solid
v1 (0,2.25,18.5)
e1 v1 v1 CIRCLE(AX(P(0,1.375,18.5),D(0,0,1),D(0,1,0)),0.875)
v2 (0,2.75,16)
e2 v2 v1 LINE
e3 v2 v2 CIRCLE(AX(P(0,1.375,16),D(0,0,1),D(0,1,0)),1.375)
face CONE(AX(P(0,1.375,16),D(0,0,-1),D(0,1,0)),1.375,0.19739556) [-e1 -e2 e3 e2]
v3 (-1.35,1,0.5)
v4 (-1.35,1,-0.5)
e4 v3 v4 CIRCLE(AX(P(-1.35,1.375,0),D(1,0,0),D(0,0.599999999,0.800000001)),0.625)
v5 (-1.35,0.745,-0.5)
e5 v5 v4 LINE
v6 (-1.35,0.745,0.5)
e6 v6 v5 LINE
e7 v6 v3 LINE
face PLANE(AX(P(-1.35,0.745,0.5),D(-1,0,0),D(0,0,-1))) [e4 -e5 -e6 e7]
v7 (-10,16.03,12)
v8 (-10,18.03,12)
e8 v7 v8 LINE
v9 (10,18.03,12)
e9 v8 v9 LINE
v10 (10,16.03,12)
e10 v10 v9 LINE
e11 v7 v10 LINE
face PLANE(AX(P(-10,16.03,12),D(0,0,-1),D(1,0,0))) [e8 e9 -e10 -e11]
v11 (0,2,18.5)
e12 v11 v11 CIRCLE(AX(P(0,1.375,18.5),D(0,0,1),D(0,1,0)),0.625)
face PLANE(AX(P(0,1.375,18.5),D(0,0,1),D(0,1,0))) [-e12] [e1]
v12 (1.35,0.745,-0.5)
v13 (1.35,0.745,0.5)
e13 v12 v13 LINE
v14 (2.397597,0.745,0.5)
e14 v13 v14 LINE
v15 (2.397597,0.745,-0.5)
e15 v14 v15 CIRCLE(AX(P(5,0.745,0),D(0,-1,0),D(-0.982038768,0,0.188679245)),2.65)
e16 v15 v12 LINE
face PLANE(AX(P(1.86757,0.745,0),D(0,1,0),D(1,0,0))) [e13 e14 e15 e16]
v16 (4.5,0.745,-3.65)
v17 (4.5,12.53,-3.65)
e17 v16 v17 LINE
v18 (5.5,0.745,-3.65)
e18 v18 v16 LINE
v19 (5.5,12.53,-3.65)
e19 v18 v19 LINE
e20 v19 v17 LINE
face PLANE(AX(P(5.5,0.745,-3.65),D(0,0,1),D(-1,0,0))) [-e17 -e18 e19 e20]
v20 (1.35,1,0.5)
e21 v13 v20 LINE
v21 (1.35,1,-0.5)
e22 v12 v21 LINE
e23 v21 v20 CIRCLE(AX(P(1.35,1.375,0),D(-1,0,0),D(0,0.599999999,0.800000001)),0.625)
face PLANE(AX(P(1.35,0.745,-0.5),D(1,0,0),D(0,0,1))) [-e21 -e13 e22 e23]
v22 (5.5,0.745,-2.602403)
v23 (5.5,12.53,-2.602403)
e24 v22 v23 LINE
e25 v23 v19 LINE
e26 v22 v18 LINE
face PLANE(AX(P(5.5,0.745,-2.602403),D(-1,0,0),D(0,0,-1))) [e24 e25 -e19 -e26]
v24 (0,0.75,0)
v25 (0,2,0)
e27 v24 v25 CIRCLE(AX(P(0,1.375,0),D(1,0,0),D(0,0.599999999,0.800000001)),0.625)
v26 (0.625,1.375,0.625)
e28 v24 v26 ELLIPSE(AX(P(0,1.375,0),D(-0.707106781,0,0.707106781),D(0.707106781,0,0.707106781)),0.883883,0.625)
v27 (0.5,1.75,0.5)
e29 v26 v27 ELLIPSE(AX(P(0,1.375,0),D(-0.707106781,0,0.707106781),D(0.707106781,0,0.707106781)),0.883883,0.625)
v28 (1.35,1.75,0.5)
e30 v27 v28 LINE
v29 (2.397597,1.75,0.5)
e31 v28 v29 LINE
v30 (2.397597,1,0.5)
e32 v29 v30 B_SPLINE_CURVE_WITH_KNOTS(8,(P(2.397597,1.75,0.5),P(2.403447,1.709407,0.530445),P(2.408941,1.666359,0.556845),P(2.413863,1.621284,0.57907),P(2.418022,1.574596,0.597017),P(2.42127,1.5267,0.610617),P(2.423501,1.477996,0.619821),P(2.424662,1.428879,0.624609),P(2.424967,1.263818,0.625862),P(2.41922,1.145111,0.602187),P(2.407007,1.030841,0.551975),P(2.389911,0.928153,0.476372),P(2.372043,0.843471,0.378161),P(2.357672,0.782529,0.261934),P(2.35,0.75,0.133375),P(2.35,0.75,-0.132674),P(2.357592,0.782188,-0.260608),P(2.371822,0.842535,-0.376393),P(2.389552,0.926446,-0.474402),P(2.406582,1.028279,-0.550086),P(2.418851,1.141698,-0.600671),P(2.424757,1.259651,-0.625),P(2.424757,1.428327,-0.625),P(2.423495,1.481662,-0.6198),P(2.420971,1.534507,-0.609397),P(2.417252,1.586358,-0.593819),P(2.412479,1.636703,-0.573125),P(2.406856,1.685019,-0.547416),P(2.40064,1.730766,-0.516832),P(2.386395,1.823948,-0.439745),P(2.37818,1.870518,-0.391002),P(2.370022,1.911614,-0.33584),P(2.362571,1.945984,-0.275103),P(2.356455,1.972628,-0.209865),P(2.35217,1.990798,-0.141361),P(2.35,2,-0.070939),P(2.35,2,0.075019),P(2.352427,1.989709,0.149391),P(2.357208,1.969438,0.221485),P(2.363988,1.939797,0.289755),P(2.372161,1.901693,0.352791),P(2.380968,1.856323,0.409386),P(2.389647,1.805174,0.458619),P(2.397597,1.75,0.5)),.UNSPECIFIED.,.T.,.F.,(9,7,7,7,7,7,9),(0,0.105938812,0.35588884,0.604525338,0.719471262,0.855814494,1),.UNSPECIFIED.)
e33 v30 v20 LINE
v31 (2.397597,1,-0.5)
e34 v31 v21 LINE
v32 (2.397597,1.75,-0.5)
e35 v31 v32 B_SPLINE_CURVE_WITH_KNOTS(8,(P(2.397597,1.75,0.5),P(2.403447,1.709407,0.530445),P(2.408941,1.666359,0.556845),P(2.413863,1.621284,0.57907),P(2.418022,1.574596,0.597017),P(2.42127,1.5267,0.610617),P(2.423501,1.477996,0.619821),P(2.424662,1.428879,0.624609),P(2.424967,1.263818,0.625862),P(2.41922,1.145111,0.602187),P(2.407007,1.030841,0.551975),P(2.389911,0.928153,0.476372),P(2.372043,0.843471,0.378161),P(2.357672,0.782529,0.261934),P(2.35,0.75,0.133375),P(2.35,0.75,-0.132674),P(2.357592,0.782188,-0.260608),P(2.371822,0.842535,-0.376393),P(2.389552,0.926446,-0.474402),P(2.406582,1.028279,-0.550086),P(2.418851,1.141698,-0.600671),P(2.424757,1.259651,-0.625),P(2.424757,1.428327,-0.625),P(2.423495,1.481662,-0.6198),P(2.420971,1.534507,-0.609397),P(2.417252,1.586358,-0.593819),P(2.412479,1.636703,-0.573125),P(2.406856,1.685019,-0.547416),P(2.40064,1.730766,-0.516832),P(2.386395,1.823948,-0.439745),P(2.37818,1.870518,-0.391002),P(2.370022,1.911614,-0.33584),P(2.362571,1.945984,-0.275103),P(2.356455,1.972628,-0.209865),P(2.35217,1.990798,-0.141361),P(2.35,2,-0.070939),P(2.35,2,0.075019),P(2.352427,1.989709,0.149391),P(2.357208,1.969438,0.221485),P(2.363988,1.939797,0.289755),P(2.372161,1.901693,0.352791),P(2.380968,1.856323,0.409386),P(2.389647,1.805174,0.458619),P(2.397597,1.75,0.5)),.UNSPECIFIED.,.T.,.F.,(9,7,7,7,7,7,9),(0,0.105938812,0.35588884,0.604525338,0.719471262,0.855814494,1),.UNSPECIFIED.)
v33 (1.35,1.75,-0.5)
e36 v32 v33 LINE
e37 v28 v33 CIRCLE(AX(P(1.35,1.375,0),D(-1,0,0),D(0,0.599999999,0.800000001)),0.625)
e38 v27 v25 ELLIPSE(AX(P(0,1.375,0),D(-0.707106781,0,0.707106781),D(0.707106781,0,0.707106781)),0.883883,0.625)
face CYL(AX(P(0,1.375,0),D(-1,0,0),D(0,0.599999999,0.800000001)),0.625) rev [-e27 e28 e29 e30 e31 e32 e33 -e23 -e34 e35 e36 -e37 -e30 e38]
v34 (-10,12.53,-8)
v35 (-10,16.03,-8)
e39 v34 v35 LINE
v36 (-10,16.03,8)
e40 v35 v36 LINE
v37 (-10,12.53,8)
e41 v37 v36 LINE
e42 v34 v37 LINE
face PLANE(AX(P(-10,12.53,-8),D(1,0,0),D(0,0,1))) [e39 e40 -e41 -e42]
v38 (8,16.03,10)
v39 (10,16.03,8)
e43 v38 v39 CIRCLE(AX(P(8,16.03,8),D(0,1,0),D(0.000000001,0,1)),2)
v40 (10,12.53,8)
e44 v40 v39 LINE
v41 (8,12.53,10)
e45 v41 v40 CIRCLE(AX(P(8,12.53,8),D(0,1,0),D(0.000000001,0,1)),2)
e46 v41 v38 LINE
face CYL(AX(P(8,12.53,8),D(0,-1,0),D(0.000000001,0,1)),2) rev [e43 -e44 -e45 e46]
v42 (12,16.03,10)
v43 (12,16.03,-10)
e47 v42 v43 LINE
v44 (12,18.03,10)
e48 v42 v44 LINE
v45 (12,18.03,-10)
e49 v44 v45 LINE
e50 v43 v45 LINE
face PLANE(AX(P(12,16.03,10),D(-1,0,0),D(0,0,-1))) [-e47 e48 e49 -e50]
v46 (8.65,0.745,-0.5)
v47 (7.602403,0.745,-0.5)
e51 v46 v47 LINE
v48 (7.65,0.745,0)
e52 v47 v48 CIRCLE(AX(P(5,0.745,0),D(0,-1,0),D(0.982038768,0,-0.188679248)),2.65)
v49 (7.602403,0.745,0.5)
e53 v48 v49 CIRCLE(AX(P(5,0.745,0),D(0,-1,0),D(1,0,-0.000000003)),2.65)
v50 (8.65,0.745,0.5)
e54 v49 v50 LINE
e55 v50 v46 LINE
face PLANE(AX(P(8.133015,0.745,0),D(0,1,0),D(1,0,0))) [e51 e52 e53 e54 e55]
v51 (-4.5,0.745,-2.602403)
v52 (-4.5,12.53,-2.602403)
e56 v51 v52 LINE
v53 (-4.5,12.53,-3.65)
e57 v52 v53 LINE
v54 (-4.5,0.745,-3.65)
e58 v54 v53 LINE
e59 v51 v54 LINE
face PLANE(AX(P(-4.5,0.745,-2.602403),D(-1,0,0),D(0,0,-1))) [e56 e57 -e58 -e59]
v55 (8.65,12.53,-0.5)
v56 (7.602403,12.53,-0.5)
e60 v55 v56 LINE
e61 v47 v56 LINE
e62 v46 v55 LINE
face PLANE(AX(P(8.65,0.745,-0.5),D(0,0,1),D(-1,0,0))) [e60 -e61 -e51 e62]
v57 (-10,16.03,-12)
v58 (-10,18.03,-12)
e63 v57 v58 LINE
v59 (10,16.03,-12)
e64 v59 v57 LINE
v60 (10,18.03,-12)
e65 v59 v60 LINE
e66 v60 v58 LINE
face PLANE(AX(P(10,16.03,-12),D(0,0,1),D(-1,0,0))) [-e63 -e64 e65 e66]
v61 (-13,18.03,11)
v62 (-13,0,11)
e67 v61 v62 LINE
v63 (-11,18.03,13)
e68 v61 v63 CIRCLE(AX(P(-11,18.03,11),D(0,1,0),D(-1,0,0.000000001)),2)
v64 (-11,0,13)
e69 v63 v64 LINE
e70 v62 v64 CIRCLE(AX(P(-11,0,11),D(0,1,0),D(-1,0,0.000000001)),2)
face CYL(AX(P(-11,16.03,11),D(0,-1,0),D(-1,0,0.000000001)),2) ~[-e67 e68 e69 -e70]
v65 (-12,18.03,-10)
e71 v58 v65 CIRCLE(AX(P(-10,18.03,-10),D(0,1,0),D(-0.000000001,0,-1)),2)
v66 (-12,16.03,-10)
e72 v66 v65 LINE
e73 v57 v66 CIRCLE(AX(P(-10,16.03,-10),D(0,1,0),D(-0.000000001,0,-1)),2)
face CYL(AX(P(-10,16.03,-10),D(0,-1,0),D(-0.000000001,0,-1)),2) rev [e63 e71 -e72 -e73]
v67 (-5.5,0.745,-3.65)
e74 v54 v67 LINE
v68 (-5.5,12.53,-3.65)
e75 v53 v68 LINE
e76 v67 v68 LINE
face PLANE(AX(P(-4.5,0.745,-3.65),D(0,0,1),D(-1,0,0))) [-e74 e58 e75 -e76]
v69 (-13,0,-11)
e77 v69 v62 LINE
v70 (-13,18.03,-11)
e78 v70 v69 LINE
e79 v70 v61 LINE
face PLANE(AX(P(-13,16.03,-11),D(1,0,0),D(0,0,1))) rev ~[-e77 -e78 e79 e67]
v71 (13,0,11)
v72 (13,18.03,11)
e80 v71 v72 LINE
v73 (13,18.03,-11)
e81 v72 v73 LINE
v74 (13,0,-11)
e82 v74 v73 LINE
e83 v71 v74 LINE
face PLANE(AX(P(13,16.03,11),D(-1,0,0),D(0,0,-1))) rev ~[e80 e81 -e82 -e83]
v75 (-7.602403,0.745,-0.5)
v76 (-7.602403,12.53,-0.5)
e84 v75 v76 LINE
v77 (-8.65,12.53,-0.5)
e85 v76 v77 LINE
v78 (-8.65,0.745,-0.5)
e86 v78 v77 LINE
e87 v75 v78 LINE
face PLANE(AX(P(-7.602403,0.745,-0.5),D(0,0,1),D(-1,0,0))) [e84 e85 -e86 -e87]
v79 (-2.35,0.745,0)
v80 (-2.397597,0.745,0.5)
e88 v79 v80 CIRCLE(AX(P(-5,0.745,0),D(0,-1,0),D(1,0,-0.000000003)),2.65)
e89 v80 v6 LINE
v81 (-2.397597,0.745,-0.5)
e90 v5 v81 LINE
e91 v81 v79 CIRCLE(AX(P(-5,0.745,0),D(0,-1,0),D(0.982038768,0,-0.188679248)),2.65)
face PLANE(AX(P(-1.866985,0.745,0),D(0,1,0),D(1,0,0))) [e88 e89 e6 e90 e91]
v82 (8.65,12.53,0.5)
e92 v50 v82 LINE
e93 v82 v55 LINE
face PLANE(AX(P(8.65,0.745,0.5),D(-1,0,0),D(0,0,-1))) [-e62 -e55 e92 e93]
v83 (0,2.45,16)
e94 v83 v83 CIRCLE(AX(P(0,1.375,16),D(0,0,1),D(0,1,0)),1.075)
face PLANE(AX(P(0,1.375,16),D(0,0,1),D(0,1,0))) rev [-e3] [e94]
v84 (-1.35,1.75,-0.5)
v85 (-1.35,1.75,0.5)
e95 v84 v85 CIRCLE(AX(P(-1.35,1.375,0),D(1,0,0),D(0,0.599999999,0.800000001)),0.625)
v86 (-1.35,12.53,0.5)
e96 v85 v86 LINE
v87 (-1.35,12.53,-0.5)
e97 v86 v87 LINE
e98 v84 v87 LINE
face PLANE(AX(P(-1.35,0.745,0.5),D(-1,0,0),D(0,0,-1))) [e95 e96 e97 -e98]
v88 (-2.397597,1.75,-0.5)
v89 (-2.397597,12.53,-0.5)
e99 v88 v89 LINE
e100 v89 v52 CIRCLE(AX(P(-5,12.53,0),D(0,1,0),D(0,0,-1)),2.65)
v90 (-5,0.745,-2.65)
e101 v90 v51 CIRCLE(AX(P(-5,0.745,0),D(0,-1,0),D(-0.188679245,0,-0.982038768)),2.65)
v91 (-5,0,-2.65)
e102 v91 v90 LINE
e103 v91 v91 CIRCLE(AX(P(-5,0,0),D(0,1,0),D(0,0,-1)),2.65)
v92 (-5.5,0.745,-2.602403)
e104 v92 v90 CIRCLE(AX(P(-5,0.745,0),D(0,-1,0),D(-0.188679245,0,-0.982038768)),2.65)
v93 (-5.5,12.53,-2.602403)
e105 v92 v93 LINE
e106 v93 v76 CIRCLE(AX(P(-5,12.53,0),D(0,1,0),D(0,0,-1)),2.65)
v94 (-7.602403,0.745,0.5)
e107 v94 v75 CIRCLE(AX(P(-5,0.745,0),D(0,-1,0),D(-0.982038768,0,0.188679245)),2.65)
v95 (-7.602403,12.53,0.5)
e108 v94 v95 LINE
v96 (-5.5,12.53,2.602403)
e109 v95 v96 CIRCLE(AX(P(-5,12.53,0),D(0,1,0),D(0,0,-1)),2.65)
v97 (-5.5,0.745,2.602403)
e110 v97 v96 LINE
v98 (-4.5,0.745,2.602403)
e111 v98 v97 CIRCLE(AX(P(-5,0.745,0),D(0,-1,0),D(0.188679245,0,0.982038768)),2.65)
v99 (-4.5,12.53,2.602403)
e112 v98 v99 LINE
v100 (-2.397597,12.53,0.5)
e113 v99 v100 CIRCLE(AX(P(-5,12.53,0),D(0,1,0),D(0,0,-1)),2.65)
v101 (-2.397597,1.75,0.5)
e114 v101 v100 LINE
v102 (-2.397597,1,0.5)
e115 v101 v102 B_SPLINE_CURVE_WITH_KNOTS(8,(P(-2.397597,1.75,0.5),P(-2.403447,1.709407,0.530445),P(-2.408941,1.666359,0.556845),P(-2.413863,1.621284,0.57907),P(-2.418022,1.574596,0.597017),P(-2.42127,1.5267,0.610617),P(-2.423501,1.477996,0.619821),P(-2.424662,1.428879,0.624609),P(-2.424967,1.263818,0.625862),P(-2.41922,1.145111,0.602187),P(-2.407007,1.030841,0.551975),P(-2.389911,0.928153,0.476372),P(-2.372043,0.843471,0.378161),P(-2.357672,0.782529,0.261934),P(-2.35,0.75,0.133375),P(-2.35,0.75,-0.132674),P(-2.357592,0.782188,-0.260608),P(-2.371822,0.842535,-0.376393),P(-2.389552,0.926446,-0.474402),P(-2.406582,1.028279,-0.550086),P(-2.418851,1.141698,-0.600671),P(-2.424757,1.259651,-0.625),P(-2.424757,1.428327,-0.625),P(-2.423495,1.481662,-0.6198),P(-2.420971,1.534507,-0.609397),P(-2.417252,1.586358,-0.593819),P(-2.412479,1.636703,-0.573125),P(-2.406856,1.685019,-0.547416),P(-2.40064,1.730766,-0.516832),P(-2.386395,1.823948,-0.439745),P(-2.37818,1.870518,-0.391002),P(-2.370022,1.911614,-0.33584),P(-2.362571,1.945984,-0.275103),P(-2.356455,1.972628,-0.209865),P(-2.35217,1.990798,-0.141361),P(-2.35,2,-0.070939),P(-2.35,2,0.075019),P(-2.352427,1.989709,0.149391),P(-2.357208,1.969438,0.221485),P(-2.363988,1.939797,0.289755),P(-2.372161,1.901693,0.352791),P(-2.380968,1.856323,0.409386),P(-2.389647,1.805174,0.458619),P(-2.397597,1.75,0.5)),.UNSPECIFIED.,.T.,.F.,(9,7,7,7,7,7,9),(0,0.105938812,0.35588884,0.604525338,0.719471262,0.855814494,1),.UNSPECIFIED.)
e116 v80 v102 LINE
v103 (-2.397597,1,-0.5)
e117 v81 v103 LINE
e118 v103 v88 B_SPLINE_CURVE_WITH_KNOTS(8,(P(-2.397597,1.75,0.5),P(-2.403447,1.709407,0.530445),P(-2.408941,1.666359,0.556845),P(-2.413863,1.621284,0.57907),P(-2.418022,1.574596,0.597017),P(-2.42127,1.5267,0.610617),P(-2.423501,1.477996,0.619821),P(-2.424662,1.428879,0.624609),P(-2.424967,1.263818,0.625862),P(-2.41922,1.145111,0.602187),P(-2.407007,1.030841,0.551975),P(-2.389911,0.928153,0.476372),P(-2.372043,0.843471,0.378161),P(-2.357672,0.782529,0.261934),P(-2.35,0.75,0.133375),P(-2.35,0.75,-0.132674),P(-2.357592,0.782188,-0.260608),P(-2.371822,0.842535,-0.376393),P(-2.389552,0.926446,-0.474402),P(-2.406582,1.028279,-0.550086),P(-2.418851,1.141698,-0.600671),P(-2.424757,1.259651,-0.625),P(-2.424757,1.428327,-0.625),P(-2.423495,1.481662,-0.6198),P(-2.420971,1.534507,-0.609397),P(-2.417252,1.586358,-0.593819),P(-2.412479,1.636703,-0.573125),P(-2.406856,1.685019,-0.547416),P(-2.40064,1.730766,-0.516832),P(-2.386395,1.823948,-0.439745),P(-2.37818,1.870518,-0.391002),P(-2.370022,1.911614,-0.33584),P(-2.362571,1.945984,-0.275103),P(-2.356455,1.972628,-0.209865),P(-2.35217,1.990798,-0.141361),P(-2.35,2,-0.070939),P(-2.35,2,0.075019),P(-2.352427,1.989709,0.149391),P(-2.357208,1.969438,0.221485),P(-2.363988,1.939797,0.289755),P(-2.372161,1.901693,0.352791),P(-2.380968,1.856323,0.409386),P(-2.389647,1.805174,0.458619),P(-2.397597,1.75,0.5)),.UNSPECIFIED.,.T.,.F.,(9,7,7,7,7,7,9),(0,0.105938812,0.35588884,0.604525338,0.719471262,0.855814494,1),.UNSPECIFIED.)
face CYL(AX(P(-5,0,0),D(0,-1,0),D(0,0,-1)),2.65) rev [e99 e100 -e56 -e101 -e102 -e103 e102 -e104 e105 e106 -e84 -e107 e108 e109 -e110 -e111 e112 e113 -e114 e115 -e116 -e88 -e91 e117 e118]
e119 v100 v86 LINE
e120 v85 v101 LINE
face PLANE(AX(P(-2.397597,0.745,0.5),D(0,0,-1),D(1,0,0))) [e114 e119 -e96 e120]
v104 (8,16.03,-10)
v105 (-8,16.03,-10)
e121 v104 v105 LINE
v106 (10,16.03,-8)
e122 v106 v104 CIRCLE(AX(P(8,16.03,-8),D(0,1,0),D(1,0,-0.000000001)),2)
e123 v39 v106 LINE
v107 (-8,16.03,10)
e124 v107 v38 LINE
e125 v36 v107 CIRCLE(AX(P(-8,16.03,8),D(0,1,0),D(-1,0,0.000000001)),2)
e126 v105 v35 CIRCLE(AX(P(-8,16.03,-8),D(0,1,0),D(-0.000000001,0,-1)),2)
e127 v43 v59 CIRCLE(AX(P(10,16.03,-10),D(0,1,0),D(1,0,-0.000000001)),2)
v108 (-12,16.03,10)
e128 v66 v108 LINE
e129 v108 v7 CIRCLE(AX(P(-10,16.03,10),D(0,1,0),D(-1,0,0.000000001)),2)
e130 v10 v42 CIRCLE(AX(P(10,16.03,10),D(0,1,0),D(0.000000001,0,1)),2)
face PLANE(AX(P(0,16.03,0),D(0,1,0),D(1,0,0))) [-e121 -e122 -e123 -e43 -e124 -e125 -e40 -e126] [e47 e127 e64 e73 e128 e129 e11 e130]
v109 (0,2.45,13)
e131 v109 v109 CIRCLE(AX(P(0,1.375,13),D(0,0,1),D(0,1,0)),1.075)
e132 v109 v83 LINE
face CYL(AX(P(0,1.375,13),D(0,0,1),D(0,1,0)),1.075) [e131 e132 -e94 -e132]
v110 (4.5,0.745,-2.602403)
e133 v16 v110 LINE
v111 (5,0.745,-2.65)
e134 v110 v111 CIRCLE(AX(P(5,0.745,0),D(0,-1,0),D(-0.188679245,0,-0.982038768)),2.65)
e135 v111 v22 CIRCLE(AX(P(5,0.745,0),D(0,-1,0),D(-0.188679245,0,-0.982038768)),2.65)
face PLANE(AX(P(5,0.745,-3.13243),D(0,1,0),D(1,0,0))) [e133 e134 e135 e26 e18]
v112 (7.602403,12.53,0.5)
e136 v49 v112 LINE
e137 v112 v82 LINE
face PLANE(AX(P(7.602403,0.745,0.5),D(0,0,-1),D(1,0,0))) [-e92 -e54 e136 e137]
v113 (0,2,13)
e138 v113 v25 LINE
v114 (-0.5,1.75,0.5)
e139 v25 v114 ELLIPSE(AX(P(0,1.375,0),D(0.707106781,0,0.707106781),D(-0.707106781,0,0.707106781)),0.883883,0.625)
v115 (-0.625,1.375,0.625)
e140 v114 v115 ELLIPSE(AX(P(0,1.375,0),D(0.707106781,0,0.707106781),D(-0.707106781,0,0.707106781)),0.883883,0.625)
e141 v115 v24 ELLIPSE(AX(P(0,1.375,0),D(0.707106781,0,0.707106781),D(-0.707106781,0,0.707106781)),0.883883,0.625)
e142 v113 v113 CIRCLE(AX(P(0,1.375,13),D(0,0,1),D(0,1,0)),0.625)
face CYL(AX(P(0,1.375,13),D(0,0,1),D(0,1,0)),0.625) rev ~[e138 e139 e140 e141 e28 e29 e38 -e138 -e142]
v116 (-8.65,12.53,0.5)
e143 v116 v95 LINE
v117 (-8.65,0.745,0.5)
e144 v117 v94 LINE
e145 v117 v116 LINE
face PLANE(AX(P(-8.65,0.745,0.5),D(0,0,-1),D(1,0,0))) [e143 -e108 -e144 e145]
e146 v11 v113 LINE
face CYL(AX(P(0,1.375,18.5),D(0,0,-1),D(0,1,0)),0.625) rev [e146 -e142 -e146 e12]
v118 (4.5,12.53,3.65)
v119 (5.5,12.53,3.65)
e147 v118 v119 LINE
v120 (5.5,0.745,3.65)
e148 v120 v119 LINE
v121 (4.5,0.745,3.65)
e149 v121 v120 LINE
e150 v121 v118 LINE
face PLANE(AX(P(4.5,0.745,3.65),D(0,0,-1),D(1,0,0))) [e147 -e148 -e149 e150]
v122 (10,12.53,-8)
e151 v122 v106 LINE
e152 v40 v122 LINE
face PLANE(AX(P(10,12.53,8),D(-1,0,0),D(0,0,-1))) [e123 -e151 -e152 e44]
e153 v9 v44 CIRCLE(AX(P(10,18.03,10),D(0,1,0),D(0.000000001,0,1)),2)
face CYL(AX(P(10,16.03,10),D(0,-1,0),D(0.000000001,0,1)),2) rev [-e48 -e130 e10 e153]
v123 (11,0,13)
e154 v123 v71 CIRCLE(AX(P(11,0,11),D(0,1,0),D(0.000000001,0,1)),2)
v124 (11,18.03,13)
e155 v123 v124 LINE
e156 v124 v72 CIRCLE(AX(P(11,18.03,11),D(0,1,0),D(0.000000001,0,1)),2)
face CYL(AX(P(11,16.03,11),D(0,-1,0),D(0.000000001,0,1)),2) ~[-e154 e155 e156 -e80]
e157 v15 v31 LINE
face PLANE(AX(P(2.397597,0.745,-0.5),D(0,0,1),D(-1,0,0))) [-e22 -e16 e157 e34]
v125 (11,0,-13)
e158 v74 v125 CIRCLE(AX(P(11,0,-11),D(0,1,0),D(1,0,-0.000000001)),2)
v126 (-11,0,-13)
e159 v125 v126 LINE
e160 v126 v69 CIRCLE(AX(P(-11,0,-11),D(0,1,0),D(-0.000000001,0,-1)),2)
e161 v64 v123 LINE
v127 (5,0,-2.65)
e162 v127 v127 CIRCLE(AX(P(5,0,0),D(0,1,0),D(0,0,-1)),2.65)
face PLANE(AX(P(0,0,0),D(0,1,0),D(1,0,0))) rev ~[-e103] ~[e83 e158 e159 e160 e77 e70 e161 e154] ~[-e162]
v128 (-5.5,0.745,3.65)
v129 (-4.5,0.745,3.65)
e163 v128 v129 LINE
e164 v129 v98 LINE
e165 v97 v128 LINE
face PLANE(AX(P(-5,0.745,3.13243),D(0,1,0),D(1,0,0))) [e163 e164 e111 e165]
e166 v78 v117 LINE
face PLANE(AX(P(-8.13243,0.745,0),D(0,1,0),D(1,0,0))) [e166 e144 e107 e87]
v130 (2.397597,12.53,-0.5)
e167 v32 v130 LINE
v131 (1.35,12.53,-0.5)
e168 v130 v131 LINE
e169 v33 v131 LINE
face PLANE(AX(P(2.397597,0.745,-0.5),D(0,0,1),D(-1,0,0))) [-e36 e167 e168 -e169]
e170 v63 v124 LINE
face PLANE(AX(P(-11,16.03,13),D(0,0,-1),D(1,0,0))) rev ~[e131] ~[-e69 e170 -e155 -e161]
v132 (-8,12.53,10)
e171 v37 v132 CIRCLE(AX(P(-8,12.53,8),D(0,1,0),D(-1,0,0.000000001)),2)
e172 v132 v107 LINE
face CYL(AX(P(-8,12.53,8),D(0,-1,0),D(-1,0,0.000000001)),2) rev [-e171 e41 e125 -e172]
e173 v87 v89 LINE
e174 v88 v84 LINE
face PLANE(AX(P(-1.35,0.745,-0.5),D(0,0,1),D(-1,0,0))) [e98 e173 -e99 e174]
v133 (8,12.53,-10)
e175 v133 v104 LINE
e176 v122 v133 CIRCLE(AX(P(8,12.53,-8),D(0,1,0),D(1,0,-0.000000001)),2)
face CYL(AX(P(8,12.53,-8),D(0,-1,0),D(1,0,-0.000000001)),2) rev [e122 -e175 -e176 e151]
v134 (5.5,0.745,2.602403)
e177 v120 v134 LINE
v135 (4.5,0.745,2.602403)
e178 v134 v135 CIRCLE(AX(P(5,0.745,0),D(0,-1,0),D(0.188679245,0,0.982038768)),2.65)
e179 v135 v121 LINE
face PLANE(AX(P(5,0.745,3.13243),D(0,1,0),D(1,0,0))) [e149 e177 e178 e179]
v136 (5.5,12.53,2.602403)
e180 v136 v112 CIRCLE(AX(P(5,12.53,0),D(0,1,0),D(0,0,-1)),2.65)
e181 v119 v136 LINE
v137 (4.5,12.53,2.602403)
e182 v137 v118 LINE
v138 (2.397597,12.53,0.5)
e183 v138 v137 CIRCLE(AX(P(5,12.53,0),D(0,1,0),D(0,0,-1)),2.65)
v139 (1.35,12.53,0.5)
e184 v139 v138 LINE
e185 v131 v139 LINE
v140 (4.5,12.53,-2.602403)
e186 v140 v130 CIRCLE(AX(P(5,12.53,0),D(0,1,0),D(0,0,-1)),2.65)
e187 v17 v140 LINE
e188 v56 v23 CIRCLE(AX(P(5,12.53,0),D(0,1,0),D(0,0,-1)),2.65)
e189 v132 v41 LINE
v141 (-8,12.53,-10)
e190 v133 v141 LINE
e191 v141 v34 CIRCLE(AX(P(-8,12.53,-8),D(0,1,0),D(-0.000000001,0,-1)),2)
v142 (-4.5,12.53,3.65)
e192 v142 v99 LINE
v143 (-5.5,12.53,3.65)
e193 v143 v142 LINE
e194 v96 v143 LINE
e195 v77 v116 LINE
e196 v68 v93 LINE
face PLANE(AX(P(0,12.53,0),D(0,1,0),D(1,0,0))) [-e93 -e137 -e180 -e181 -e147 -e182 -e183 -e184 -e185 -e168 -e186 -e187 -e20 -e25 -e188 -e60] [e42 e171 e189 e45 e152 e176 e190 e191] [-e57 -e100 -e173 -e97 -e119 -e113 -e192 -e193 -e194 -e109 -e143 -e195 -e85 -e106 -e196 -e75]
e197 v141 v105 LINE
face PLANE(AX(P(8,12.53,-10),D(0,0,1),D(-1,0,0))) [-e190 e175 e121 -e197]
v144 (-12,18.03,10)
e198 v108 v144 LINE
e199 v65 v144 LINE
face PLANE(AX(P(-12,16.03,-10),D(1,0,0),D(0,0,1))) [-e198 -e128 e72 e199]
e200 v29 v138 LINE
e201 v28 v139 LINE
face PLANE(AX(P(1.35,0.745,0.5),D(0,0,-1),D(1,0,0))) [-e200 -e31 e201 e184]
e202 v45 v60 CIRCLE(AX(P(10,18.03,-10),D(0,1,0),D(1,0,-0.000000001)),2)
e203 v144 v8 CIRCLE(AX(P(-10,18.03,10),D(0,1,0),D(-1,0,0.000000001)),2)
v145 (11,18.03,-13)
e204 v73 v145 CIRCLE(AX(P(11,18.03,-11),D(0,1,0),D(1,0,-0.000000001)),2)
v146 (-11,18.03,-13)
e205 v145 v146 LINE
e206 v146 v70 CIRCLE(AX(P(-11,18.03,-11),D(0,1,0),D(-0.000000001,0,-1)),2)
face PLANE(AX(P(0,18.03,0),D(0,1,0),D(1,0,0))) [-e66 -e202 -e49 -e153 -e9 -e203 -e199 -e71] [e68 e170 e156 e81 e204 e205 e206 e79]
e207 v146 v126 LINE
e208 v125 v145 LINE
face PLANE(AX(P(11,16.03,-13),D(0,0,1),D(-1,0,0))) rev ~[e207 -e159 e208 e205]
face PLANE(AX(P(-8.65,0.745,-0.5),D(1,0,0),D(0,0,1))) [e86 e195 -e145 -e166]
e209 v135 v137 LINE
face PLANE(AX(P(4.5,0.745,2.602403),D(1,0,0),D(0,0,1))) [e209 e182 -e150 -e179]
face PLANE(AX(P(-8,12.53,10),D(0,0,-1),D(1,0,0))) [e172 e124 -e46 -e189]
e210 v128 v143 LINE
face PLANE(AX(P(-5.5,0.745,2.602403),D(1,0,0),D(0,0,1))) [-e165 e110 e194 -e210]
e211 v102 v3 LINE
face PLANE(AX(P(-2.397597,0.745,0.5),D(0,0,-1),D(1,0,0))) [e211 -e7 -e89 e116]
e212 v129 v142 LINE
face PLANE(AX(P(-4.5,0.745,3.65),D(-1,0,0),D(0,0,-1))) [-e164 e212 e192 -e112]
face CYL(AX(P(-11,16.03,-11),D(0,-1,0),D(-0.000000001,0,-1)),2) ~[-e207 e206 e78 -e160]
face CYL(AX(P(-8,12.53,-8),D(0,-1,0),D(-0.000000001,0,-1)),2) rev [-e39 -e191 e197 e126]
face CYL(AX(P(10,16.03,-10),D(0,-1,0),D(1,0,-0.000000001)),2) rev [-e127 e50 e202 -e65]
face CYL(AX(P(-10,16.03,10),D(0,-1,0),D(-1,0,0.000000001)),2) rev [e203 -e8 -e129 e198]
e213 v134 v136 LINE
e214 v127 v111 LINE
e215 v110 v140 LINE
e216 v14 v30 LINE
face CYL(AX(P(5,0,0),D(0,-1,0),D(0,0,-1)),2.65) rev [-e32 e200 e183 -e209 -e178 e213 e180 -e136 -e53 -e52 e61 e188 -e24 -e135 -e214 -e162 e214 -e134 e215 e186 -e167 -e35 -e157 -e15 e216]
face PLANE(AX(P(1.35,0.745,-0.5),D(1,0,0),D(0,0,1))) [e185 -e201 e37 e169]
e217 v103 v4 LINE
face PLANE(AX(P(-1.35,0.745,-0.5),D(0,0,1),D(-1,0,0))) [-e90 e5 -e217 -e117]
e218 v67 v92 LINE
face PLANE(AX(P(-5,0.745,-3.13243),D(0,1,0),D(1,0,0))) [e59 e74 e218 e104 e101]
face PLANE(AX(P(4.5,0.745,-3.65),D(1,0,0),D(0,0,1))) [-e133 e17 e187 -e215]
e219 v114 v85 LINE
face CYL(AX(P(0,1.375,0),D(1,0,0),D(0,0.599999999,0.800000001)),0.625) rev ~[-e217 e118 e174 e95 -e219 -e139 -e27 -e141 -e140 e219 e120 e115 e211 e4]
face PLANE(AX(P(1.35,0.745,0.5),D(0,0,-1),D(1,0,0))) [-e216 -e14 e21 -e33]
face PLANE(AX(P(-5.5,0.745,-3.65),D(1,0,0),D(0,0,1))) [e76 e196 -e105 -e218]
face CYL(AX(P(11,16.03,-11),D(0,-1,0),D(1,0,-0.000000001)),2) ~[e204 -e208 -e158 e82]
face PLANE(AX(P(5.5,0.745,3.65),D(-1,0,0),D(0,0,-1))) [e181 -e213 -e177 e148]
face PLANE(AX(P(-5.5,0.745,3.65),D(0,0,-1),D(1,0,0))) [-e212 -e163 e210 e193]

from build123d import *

# Parameters (mm, degrees)
SKETCH1_R                      = 2.65
BOSS_EXTRUDE1_DEPTH            = 12.53
CUT_EXTRUDE1_START             = -11.785
CUT_EXTRUDE1_DEPTH             = 11.785
CUT_EXTRUDE3_REACH             = 27.851
SKETCH10_R                     = 0.625
CUT_EXTRUDE3_DIRECTION_2_REACH = 27.851
CUT_EXTRUDE2_REACH             = 33.654
SKETCH5_R                      = 0.625
BOSS_EXTRUDE2_DEPTH            = 3.5
BOSS_EXTRUDE3_DEPTH            = 2


with BuildPart() as part:
    # Sketch1 → Boss-Extrude1 (new body)
    with BuildSketch(Plane(origin=(0, 0, 0), x_dir=(1, 0, 0), z_dir=(0, 1, 0))):
        with BuildLine():
            Line((-11, -13), (11, -13))
            ThreePointArc((11, -13), (12.414213562, -12.414213562), (13, -11))
            Line((13, -11), (13, 11))
            ThreePointArc((13, 11), (12.414213562, 12.414213562), (11, 13))
            Line((11, 13), (-11, 13))
            ThreePointArc((-11, 13), (-12.414213562, 12.414213562), (-13, 11))
            Line((-13, 11), (-13, -11))
            ThreePointArc((-13, -11), (-12.414213562, -12.414213562), (-11, -13))
        make_face()
        with Locations(Location((5, 0, 0), (0, 0, 90))):
            Circle(SKETCH1_R, mode=Mode.SUBTRACT)
        with Locations(Location((-5, 0, 0), (0, 0, 90))):
            Circle(SKETCH1_R, mode=Mode.SUBTRACT)
    extrude(amount=BOSS_EXTRUDE1_DEPTH)

    # Sketch2 → Cut-Extrude1 (cut)
    with BuildSketch(Plane(origin=(0, 12.53, 0), x_dir=(1, 0, 0), z_dir=(0, 1, 0)).offset(CUT_EXTRUDE1_START)):
        with BuildLine():
            Line((4.5, 3.65), (4.5, 2.602402736))
            ThreePointArc((4.5, 2.602402736), (5, 2.65), (5.5, 2.602402736))
            Line((5.5, 2.602402736), (5.5, 3.65))
            Line((5.5, 3.65), (4.5, 3.65))
        make_face()
        with BuildLine():
            ThreePointArc((7.65, 0), (7.638073848, -0.251130195), (7.602402736, -0.5))
            Line((7.602402736, -0.5), (8.65, -0.5))
            Line((8.65, -0.5), (8.65, 0.5))
            Line((8.65, 0.5), (7.602402736, 0.5))
            ThreePointArc((7.602402736, 0.5), (7.638073848, 0.251130195), (7.65, 0))
        make_face()
        with BuildLine():
            Line((4.5, -2.602402736), (4.5, -3.65))
            Line((4.5, -3.65), (5.5, -3.65))
            Line((5.5, -3.65), (5.5, -2.602402736))
            ThreePointArc((5.5, -2.602402736), (5, -2.65), (4.5, -2.602402736))
        make_face()
        with BuildLine():
            Line((1.35, -0.5), (2.397597264, -0.5))
            ThreePointArc((2.397597264, -0.5), (2.35, 0), (2.397597264, 0.5))
            Line((2.397597264, 0.5), (1.35, 0.5))
            Line((1.35, 0.5), (1.35, -0.5))
        make_face()
        with BuildLine():
            ThreePointArc((-2.35, 0), (-2.361926152, -0.251130195), (-2.397597264, -0.5))
            Line((-2.397597264, -0.5), (-1.35, -0.5))
            Line((-1.35, -0.5), (-1.35, 0.5))
            Line((-1.35, 0.5), (-2.397597264, 0.5))
            ThreePointArc((-2.397597264, 0.5), (-2.361926152, 0.251130195), (-2.35, 0))
        make_face()
        with BuildLine():
            Line((-5.5, 3.65), (-5.5, 2.602402736))
            ThreePointArc((-5.5, 2.602402736), (-5, 2.65), (-4.5, 2.602402736))
            Line((-4.5, 2.602402736), (-4.5, 3.65))
            Line((-4.5, 3.65), (-5.5, 3.65))
        make_face()
        with BuildLine():
            Line((-8.65, 0.5), (-8.65, -0.5))
            Line((-8.65, -0.5), (-7.602402736, -0.5))
            ThreePointArc((-7.602402736, -0.5), (-7.65, 0), (-7.602402736, 0.5))
            Line((-7.602402736, 0.5), (-8.65, 0.5))
        make_face()
        with BuildLine():
            ThreePointArc((-4.5, -2.602402736), (-5, -2.65), (-5.5, -2.602402736))
            Line((-5.5, -2.602402736), (-5.5, -3.65))
            Line((-5.5, -3.65), (-4.5, -3.65))
            Line((-4.5, -3.65), (-4.5, -2.602402736))
        make_face()
    extrude(amount=CUT_EXTRUDE1_DEPTH, mode=Mode.SUBTRACT)

    # Sketch3 → Revolve1 (revolve)
    with BuildSketch(Plane(origin=(0, 0, 0), x_dir=(0, 0, -1), z_dir=(1, 0, 0)), mode=Mode.PRIVATE) as revolve1_sk:
        Polygon((-13, 0.3), (-16, 0.3), (-16, 0), (-18.5, 0.5), (-18.5, 0.75), (-13, 0.75), align=None)
    revolve(revolve1_sk.sketch.rotate(Axis((0, 1.375, 13), (0, 0, 1)), 180), axis=Axis((0, 1.375, 13), (0, 0, 1)))

    # Sketch10 → Cut-Extrude3 (cut, up to next)
    with BuildSketch(Plane(origin=(0, 0, 0), x_dir=(0, 0, -1), z_dir=(1, 0, 0)), mode=Mode.PRIVATE) as cut_extrude3_sk1:
        with Locations(Location((0, 1.375, 0), (0, 0, 143.130102406))):
            Circle(SKETCH10_R)
    cut_extrude3_tool1 = extrude(cut_extrude3_sk1.sketch, amount=-CUT_EXTRUDE3_REACH, mode=Mode.PRIVATE) & part.part
    add(cut_extrude3_tool1.solids().sort_by_distance((0, 1.375, 0))[0], mode=Mode.SUBTRACT)

    # Sketch10 → Cut-Extrude3 direction 2 (cut, up to next)
    with BuildSketch(Plane(origin=(0, 0, 0), x_dir=(0, 0, -1), z_dir=(1, 0, 0)), mode=Mode.PRIVATE) as cut_extrude3_direction_2_sk1:
        with Locations(Location((0, 1.375, 0), (0, 0, 143.130102406))):
            Circle(SKETCH10_R)
    cut_extrude3_direction_2_tool1 = extrude(cut_extrude3_direction_2_sk1.sketch, amount=CUT_EXTRUDE3_DIRECTION_2_REACH, mode=Mode.PRIVATE) & part.part
    add(cut_extrude3_direction_2_tool1.solids().sort_by_distance((0, 1.375, 0))[0], mode=Mode.SUBTRACT)

    # Sketch5 → Cut-Extrude2 (cut, up to next)
    with BuildSketch(Plane.XY.offset(13), mode=Mode.PRIVATE) as cut_extrude2_sk1:
        with Locations(Location((0, 1.375, 0), (0, 0, 90))):
            Circle(SKETCH5_R)
    cut_extrude2_tool1 = extrude(cut_extrude2_sk1.sketch, amount=-CUT_EXTRUDE2_REACH, mode=Mode.PRIVATE) & part.part
    add(cut_extrude2_tool1.solids().sort_by_distance((0, 1.375, 13))[0], mode=Mode.SUBTRACT)

    # Sketch6 → Boss-Extrude2 (add)
    with BuildSketch(Plane(origin=(0, 12.53, 0), x_dir=(1, 0, 0), z_dir=(0, 1, 0))):
        with BuildLine():
            Line((-11, -13), (11, -13))
            ThreePointArc((11, -13), (12.414213562, -12.414213562), (13, -11))
            Line((13, -11), (13, 11))
            ThreePointArc((13, 11), (12.414213562, 12.414213562), (11, 13))
            Line((11, 13), (-11, 13))
            ThreePointArc((-11, 13), (-12.414213562, 12.414213562), (-13, 11))
            Line((-13, 11), (-13, -11))
            ThreePointArc((-13, -11), (-12.414213562, -12.414213562), (-11, -13))
        make_face()
        with BuildLine():
            Line((-8, -10), (8, -10))
            ThreePointArc((8, -10), (9.414213562, -9.414213562), (10, -8))
            Line((10, -8), (10, 8))
            ThreePointArc((10, 8), (9.414213562, 9.414213562), (8, 10))
            Line((8, 10), (-8, 10))
            ThreePointArc((-8, 10), (-9.414213562, 9.414213562), (-10, 8))
            Line((-10, 8), (-10, -8))
            ThreePointArc((-10, -8), (-9.414213562, -9.414213562), (-8, -10))
        make_face(mode=Mode.SUBTRACT)
    extrude(amount=BOSS_EXTRUDE2_DEPTH)

    # Sketch8 → Boss-Extrude3 (add)
    with BuildSketch(Plane(origin=(0, 16.03, 0), x_dir=(1, 0, 0), z_dir=(0, 1, 0))):
        with BuildLine():
            Line((-11, -13), (11, -13))
            ThreePointArc((11, -13), (12.414213562, -12.414213562), (13, -11))
            Line((13, -11), (13, 11))
            ThreePointArc((13, 11), (12.414213562, 12.414213562), (11, 13))
            Line((11, 13), (-11, 13))
            ThreePointArc((-11, 13), (-12.414213562, 12.414213562), (-13, 11))
            Line((-13, 11), (-13, -11))
            ThreePointArc((-13, -11), (-12.414213562, -12.414213562), (-11, -13))
        make_face()
        with BuildLine():
            Line((-10, -12), (10, -12))
            ThreePointArc((10, -12), (11.414213562, -11.414213562), (12, -10))
            Line((12, -10), (12, 10))
            ThreePointArc((12, 10), (11.414213562, 11.414213562), (10, 12))
            Line((10, 12), (-10, 12))
            ThreePointArc((-10, 12), (-11.414213562, 11.414213562), (-12, 10))
            Line((-12, 10), (-12, -10))
            ThreePointArc((-12, -10), (-11.414213562, -11.414213562), (-10, -12))
        make_face(mode=Mode.SUBTRACT)
    extrude(amount=BOSS_EXTRUDE3_DEPTH)


solid = part.part
